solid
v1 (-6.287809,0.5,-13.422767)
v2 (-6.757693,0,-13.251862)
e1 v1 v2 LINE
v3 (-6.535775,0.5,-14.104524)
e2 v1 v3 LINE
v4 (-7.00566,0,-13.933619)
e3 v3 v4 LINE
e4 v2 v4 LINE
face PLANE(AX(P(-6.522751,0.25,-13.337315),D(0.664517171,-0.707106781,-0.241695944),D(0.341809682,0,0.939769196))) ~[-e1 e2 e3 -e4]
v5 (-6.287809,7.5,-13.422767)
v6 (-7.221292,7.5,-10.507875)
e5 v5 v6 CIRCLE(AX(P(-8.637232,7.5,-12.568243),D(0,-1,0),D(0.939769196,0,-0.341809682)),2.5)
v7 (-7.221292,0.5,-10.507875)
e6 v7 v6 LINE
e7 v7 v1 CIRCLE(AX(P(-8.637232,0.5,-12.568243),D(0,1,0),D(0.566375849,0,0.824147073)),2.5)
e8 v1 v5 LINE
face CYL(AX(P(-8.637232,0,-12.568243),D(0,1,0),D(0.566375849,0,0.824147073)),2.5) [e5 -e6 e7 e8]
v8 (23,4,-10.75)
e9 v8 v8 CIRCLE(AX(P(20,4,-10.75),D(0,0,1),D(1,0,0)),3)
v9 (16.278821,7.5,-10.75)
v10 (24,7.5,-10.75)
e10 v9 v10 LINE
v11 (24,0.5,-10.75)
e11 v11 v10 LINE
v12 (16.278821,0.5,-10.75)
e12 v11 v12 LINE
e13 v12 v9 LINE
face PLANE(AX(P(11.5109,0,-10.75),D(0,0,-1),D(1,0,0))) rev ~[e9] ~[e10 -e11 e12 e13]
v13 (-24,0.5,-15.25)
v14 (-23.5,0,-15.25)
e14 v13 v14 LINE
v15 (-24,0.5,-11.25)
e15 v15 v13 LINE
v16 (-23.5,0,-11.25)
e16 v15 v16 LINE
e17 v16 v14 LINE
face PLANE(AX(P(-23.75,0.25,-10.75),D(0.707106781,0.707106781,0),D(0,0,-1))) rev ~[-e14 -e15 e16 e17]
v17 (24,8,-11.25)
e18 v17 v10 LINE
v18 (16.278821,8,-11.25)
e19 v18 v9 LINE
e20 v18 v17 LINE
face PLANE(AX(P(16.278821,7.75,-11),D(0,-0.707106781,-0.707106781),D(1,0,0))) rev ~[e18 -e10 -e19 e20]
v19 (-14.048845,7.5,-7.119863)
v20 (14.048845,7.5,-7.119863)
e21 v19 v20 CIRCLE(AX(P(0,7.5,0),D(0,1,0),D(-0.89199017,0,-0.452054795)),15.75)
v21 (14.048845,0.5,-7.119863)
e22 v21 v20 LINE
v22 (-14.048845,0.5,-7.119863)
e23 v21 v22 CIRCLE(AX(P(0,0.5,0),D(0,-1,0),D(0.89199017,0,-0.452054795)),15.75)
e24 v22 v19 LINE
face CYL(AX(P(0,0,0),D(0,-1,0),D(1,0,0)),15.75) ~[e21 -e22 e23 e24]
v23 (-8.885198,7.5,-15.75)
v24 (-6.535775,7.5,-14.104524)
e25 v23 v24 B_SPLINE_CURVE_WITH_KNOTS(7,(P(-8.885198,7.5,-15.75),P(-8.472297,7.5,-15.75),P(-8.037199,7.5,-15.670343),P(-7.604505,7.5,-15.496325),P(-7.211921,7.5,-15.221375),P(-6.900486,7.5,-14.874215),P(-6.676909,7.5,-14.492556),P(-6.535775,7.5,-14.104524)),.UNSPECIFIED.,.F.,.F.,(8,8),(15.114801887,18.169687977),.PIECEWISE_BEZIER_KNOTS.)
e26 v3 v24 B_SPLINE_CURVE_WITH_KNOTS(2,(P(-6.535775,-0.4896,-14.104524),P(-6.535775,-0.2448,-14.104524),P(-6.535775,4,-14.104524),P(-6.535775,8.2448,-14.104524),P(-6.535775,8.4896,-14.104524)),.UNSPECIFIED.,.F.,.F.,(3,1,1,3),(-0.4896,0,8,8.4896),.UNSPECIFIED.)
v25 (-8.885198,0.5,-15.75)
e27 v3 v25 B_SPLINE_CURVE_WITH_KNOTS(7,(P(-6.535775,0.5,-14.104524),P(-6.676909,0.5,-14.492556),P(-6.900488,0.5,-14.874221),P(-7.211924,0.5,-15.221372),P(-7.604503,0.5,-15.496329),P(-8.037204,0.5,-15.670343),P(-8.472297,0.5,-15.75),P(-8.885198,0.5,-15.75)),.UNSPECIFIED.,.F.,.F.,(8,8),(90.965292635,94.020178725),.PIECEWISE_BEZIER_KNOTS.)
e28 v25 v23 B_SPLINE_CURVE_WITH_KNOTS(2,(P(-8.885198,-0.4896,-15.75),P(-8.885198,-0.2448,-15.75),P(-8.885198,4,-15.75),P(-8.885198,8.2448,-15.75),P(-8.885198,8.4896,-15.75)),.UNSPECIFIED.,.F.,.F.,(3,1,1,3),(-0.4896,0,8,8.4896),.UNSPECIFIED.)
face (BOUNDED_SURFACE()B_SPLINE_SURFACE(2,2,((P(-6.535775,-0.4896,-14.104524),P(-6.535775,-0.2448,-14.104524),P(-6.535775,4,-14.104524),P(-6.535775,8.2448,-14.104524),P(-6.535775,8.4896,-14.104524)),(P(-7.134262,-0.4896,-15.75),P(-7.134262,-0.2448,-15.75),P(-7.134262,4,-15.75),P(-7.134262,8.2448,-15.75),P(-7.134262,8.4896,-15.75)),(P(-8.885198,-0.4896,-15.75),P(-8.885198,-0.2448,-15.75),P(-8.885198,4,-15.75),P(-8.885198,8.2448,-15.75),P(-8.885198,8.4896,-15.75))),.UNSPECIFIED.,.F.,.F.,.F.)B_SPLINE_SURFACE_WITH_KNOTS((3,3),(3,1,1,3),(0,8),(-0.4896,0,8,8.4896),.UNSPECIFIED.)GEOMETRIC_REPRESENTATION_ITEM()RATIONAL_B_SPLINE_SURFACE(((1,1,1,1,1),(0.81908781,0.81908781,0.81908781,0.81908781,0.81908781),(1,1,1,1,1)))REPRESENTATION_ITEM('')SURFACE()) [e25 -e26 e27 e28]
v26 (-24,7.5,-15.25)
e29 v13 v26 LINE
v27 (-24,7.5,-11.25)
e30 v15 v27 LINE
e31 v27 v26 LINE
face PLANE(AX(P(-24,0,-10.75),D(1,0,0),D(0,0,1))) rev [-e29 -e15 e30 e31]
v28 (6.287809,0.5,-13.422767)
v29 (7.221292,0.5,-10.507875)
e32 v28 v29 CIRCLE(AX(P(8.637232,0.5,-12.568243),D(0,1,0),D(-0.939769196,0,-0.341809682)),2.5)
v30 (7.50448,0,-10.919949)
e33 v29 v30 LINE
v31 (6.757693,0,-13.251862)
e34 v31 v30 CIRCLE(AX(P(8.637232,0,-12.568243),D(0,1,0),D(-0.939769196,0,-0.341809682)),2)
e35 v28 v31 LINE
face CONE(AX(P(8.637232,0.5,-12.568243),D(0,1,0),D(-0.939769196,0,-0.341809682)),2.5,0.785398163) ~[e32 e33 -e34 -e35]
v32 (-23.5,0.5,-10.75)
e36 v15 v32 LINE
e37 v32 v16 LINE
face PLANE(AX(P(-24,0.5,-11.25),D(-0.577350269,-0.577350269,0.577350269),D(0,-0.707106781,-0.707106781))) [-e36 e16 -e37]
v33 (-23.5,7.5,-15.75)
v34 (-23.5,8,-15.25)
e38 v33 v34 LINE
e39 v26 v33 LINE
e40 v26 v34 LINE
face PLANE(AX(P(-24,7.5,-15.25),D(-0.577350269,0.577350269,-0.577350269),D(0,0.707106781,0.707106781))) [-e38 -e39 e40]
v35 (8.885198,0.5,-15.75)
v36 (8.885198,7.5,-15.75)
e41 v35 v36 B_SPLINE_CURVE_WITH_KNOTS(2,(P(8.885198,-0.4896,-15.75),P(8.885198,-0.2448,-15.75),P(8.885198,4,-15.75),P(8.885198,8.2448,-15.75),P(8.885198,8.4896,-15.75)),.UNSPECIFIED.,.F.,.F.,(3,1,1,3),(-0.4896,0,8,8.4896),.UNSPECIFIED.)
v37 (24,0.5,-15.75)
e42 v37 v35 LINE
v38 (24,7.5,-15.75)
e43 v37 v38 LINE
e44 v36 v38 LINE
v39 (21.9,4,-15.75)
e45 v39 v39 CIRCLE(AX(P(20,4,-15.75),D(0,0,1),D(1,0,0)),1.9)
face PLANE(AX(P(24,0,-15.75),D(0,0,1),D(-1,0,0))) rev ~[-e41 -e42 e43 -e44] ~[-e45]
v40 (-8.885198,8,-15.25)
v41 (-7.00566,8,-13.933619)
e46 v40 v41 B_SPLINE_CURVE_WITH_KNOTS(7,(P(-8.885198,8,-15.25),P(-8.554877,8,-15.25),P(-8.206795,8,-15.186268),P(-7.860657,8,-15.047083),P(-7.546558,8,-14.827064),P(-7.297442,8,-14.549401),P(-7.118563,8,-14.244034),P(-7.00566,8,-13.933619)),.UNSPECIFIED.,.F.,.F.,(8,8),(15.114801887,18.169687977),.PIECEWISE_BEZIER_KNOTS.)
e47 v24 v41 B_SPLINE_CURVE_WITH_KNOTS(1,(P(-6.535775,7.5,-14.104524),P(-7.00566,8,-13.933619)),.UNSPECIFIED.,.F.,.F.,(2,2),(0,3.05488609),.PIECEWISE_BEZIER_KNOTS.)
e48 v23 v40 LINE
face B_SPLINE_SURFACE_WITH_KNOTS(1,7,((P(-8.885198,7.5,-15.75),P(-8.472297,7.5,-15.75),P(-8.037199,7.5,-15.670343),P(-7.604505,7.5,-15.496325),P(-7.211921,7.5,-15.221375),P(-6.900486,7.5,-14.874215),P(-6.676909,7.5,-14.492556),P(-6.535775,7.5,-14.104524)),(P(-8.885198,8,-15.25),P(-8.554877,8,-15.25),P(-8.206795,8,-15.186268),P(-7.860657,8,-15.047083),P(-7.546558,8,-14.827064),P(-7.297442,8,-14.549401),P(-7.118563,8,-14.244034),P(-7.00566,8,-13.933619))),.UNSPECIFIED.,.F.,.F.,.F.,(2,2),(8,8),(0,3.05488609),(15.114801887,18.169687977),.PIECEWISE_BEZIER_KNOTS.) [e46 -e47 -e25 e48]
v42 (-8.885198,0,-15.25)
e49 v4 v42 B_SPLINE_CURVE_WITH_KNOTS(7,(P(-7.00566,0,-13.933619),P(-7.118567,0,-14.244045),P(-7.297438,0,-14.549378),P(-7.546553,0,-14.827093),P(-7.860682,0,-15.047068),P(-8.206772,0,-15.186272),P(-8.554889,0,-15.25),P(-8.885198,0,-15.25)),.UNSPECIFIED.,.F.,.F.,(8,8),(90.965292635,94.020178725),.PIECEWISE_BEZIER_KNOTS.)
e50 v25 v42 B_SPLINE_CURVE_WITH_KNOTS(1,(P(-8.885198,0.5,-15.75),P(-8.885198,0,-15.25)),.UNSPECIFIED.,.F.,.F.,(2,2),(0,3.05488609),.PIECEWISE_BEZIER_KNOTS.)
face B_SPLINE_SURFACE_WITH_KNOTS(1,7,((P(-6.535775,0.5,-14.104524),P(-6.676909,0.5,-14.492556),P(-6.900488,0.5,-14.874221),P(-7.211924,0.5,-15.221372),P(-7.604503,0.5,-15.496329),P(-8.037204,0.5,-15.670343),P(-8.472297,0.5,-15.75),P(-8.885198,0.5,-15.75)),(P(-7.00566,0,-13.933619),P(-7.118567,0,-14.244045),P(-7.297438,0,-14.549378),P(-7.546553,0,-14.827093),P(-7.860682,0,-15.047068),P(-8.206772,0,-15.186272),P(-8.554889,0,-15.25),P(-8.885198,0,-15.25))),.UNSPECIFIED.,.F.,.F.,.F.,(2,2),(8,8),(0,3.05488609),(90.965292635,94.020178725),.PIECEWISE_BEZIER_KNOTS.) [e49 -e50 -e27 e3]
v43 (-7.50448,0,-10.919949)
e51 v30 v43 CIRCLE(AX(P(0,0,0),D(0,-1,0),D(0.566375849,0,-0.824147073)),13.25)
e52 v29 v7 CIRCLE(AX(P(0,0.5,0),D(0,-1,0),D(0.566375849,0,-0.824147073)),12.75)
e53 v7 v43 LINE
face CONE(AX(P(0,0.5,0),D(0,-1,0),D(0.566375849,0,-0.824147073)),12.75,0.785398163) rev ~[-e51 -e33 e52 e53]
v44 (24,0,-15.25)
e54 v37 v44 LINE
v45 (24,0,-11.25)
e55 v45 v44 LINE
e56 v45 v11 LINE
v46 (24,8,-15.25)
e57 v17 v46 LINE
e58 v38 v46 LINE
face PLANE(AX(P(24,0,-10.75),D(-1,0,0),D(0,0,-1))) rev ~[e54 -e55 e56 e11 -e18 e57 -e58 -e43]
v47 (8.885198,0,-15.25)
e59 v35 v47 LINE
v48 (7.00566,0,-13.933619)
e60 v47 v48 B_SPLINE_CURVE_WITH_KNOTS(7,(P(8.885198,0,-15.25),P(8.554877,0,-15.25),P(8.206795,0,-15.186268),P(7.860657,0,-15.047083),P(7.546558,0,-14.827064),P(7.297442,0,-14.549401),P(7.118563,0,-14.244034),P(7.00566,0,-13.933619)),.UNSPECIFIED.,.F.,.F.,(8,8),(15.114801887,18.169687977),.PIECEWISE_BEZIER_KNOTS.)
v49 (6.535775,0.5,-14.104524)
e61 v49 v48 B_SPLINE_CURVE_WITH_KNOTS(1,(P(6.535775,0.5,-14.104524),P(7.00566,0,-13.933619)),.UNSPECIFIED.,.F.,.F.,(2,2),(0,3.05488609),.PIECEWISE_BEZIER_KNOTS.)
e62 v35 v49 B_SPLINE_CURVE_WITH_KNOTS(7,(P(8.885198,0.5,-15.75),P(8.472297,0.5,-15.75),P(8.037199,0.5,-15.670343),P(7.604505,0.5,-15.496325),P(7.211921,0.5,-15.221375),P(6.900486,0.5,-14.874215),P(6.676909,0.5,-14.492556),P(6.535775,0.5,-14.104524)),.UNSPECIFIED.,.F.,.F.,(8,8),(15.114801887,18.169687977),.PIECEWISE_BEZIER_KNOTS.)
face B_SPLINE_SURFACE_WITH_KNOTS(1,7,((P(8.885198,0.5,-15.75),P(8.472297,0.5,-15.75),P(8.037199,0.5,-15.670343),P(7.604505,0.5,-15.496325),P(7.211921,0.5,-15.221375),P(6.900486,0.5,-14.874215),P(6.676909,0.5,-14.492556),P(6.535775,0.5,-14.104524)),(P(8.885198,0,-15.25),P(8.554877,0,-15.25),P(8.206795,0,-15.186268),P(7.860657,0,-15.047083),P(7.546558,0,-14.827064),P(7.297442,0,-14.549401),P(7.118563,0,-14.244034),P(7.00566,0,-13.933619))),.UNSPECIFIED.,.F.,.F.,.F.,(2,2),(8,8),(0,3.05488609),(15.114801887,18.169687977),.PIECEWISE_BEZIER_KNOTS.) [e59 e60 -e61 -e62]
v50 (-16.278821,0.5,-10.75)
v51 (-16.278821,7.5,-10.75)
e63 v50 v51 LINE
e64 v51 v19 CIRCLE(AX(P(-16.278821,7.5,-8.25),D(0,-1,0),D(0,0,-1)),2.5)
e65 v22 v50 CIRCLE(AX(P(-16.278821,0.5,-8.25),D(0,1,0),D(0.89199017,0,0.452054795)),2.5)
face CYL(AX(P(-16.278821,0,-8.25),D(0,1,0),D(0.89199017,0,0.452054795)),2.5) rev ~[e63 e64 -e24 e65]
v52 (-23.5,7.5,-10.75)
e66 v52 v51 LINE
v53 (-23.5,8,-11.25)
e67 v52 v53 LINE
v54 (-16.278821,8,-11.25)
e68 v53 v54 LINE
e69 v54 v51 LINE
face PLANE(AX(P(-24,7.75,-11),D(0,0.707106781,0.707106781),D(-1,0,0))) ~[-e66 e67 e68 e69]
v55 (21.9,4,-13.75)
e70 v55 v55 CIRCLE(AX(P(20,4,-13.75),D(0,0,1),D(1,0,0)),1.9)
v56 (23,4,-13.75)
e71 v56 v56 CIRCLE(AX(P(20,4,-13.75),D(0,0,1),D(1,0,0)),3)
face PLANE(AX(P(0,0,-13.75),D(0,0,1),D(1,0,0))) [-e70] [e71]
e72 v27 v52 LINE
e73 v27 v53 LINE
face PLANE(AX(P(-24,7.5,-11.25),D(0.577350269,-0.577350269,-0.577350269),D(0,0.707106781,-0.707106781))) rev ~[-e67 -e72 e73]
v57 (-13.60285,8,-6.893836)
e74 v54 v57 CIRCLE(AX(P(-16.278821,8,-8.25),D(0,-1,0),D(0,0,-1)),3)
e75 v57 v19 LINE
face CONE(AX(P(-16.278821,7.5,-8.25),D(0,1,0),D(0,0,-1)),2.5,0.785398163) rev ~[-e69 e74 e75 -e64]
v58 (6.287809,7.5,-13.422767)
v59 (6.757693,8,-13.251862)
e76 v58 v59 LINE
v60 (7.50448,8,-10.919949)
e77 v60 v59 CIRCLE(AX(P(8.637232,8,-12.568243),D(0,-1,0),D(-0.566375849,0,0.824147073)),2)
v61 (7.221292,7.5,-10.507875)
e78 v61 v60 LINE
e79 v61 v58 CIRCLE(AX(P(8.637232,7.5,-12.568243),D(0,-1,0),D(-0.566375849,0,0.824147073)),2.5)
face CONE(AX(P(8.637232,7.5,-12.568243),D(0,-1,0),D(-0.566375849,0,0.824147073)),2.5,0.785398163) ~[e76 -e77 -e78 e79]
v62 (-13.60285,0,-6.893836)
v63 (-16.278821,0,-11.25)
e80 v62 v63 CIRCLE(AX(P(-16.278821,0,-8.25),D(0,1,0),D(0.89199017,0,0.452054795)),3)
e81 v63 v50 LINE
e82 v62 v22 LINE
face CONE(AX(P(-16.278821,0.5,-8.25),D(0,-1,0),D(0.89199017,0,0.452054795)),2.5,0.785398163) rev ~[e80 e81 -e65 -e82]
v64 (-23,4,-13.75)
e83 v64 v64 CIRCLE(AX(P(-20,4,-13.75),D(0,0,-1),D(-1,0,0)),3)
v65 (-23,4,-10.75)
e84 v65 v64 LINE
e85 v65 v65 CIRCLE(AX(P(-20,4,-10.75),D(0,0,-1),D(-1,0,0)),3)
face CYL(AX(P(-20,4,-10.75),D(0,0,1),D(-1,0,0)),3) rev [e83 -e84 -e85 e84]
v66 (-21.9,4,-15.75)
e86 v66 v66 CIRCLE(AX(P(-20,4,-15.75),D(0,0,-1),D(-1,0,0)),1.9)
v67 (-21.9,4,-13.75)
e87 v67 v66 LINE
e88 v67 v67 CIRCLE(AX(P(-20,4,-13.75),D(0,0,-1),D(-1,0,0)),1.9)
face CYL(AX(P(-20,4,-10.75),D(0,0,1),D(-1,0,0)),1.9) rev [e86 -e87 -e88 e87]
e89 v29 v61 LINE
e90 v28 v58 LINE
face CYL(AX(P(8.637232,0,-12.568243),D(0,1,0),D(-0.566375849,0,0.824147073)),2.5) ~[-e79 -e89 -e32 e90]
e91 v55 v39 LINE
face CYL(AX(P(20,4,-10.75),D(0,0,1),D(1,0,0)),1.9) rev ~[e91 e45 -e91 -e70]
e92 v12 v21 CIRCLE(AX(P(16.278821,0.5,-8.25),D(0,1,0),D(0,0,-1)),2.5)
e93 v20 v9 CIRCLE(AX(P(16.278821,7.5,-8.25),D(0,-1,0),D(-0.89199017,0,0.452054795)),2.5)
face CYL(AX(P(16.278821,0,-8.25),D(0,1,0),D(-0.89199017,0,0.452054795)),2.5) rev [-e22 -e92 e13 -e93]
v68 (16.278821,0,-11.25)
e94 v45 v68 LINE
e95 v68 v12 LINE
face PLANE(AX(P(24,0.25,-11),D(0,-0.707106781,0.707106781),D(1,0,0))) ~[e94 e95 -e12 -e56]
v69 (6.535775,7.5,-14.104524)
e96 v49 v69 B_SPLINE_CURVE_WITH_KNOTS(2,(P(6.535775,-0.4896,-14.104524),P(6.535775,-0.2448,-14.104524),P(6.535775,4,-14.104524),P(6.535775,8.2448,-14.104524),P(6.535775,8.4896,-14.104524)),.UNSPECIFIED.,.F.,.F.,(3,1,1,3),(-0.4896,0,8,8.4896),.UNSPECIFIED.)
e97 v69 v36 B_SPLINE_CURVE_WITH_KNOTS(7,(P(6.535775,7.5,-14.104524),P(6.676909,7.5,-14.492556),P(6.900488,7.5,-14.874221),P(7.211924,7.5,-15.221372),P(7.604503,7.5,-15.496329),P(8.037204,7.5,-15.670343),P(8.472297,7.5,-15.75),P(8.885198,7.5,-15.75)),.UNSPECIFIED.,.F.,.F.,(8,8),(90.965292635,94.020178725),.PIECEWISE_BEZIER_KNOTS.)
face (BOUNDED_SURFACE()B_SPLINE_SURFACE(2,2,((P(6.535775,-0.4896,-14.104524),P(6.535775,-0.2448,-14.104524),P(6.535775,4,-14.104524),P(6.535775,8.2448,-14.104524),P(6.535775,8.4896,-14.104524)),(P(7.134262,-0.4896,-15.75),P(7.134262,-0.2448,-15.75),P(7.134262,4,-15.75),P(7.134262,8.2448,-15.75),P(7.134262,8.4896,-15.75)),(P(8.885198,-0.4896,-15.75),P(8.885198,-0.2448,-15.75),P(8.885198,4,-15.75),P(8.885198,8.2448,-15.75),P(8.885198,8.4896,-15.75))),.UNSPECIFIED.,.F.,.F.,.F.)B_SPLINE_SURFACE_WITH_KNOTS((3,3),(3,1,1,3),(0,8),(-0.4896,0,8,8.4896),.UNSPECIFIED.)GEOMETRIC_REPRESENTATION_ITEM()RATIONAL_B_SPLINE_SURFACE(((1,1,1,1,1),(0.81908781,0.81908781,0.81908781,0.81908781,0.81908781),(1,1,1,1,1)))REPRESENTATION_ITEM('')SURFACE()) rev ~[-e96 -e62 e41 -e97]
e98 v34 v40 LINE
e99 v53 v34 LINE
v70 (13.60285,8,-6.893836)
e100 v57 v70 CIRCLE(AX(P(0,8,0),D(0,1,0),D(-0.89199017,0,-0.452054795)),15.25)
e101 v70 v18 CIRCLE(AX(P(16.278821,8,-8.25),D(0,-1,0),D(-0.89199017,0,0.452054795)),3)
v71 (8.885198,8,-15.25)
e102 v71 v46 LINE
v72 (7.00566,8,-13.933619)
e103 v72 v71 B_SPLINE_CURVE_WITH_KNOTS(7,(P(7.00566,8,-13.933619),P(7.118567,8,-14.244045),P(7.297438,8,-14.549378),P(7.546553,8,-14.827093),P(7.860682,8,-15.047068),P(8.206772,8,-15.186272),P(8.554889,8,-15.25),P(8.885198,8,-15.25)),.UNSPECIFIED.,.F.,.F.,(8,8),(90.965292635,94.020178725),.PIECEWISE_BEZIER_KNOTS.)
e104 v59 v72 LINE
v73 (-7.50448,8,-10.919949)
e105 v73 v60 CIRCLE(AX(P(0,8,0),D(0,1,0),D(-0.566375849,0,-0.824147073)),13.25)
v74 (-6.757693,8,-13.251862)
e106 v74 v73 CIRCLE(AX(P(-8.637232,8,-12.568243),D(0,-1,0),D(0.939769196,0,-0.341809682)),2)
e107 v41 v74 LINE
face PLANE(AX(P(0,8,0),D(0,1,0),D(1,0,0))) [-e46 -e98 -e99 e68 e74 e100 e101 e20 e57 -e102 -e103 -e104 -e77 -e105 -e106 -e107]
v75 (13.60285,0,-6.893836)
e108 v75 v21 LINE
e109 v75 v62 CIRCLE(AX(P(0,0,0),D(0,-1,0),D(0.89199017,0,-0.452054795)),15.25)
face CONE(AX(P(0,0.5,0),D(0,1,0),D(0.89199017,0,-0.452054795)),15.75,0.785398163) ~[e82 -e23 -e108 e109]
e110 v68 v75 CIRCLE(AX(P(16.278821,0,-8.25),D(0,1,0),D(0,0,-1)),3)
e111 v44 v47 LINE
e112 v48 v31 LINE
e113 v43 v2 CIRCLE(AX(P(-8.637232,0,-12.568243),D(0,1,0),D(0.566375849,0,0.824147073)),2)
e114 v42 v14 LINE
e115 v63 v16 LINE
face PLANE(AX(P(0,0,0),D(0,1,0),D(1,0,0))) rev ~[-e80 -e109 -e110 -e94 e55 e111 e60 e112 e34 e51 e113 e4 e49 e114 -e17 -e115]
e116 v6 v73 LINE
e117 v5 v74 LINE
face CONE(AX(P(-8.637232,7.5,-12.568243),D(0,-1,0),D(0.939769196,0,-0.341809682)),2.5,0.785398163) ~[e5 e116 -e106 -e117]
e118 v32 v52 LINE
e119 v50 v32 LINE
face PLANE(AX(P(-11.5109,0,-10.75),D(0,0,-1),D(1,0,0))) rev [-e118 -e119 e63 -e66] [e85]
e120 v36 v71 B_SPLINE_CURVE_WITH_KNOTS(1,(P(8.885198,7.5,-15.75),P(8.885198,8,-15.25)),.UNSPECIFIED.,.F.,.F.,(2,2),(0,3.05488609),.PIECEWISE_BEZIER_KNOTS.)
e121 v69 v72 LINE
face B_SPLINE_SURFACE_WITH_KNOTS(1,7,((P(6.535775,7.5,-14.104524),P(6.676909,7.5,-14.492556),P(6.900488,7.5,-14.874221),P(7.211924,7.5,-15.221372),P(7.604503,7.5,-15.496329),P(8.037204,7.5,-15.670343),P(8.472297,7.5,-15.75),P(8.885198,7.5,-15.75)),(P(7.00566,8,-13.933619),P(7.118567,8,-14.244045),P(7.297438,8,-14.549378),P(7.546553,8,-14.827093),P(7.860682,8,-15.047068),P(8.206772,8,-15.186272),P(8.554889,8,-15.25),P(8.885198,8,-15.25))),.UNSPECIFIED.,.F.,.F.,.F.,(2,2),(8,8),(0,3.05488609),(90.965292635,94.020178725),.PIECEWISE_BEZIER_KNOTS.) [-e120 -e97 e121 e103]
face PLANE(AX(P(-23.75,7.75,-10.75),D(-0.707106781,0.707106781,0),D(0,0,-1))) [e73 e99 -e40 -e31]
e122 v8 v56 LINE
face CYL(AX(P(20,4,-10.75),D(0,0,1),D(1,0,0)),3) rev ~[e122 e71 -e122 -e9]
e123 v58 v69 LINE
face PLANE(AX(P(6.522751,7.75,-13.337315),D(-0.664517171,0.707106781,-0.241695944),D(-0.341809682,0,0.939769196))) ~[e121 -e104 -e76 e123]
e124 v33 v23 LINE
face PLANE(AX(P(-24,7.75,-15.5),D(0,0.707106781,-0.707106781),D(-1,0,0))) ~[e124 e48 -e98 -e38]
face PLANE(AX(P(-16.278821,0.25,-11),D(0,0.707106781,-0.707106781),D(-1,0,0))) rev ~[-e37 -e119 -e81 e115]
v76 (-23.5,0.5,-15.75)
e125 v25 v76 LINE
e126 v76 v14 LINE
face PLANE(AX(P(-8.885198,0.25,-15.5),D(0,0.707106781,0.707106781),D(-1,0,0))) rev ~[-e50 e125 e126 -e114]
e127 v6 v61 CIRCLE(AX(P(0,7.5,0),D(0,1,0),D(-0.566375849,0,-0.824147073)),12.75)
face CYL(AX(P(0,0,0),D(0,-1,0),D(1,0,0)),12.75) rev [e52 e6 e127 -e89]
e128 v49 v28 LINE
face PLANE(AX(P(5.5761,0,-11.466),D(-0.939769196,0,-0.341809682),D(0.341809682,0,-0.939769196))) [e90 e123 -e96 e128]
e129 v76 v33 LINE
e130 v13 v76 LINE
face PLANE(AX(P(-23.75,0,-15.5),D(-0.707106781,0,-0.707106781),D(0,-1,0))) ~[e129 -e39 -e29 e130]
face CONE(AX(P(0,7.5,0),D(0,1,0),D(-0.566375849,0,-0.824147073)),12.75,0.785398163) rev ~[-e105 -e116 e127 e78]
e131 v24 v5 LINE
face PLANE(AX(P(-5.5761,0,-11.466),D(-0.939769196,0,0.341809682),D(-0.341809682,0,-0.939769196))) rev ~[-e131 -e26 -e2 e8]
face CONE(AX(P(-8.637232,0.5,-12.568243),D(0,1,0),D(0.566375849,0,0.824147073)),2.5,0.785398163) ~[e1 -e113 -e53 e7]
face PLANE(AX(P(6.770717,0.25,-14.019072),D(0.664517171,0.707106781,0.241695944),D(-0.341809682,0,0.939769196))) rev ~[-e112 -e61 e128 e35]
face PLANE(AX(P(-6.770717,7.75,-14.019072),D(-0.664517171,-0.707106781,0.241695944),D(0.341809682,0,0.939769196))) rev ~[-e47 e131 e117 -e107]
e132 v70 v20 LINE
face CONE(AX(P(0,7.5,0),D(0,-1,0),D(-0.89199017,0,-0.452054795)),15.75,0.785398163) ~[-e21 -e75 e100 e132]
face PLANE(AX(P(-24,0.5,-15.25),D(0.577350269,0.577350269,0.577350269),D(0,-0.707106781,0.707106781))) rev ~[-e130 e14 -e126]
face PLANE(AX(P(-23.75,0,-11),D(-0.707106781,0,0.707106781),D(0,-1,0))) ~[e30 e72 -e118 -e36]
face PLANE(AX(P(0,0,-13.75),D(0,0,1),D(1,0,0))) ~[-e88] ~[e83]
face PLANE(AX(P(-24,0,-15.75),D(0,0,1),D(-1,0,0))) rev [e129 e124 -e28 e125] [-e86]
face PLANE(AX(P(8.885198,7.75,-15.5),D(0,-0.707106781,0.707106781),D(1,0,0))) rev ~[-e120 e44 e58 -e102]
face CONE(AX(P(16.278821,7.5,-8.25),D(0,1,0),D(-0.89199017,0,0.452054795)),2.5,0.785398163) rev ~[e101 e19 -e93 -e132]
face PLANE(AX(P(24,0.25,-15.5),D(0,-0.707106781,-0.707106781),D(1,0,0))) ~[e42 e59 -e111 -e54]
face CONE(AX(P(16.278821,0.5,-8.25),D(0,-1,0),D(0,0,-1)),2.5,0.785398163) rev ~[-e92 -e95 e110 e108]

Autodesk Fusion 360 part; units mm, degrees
sketch "Sketch1" plane through (0, 0, 0) normal (0, 1, 0) x (1, 0, 0)
  circle A0 centre (0, 0) radius 12.75
  circle A1 centre (0, 0) radius 15.75
  line L0 (0, 0) -> (0, 15.75)
  line L1 (24, 10.75) -> (24, 15.75)
  line L2 (24, 15.75) -> (0, 15.75)
  line L3 (11.5109, 10.75) -> (24, 10.75)
  line L4 (0, 12.75) -> (0, 15.75)
  line L5 (5.5761, 11.466) -> (6.606, 14.2976)
  line L6 (-5.5761, 11.466) -> (-6.606, 14.2976)
  line L7 (6.606, 14.2976) -> (7.1343, 15.75)
  dimension "d1" = 25.5
  dimension "d2" = 3
  dimension "d3" = 24
  dimension "d4" = 5
  dimension "d5" = 12.4891
extrude "Extrude1" add sketch "Sketch1" along normal blind 8 contours A0 A1 L5 L6 makes body 1
extrude "Extrude2" add sketch "Sketch1" along normal blind 8 separate body contours A1 L1 L2 L3 L7 makes body 2
sketch "Sketch2" plane through (0, 0, -10.75) normal (0, 0, 1) x (1, 0, 0)
  line L0 (11.5109, 0) -> (24, 0)
  line L1 (24, 0) -> (24, 8)
  line L2 (24, 8) -> (11.5109, 8)
  line L3 (11.5109, 8) -> (11.5109, 0)
  circle A0 centre (20, 4) radius 3
  circle A1 centre (20, 4) radius 1.9
  line L4 (0, 0) -> (0, 7)
  line L5 (24, 4) -> (20, 4)
  dimension "d10" = 20
  dimension "d11" = 3.8
  dimension "d12" = 6
extrude "Extrude3" cut sketch "Sketch2" against normal blind 9 contours A1 bodies 2
extrude "Extrude4" cut sketch "Sketch2" against normal blind 3 contours A0 bodies 2
mirror "Mirror1" about plane through (0, 0, 0) normal (1, 0, 0) of bodies 2 makes body 3
combine "Combine1" operation add target body 3 tool bodies 1 2
fillet "Fillet1" radius 2.5 6 edges at (11.5109, 4, -10.75) (-11.5109, 4, -10.75) (-5.5761, 4, -11.466) (5.5761, 4, -11.466) (7.1343, 4, -15.75) (-7.1343, 4, -15.75) on bodies 3
chamfer "Chamfer1" distance 0.5 angle 45 28 edges at (0, 8, 15.75) (14.1486, 8, -9.5586) (20.1394, 8, -10.75) (-20.1394, 8, -10.75) (-14.1486, 8, -9.5586) (0, 8, 12.75) (-6.2564, 8, -11.8057) (-6.4118, 8, -13.7636) (-7.451, 8, -15.2977) (-16.4426, 8, -15.75) (16.4426, 8, -15.75) (7.451, 8, -15.2977) (6.4118, 8, -13.7636) (6.2564, 8, -11.8057) (0, 0, 15.75) (14.1486, 0, -9.5586) (20.1394, 0, -10.75) (-20.1394, 0, -10.75) (-14.1486, 0, -9.5586) (0, 0, 12.75) (6.2564, 0, -11.8057) (6.4118, 0, -13.7636) (7.451, 0, -15.2977) (16.4426, 0, -15.75) (-16.4426, 0, -15.75) (-7.451, 0, -15.2977) (-6.4118, 0, -13.7636) (-6.2564, 0, -11.8057) 2 faces at (-24, 5.3333, -12.4167) (-24, 5.3333, -12.4167) on bodies 3
equation "d15 = -5.00 mm + 2 mm"
